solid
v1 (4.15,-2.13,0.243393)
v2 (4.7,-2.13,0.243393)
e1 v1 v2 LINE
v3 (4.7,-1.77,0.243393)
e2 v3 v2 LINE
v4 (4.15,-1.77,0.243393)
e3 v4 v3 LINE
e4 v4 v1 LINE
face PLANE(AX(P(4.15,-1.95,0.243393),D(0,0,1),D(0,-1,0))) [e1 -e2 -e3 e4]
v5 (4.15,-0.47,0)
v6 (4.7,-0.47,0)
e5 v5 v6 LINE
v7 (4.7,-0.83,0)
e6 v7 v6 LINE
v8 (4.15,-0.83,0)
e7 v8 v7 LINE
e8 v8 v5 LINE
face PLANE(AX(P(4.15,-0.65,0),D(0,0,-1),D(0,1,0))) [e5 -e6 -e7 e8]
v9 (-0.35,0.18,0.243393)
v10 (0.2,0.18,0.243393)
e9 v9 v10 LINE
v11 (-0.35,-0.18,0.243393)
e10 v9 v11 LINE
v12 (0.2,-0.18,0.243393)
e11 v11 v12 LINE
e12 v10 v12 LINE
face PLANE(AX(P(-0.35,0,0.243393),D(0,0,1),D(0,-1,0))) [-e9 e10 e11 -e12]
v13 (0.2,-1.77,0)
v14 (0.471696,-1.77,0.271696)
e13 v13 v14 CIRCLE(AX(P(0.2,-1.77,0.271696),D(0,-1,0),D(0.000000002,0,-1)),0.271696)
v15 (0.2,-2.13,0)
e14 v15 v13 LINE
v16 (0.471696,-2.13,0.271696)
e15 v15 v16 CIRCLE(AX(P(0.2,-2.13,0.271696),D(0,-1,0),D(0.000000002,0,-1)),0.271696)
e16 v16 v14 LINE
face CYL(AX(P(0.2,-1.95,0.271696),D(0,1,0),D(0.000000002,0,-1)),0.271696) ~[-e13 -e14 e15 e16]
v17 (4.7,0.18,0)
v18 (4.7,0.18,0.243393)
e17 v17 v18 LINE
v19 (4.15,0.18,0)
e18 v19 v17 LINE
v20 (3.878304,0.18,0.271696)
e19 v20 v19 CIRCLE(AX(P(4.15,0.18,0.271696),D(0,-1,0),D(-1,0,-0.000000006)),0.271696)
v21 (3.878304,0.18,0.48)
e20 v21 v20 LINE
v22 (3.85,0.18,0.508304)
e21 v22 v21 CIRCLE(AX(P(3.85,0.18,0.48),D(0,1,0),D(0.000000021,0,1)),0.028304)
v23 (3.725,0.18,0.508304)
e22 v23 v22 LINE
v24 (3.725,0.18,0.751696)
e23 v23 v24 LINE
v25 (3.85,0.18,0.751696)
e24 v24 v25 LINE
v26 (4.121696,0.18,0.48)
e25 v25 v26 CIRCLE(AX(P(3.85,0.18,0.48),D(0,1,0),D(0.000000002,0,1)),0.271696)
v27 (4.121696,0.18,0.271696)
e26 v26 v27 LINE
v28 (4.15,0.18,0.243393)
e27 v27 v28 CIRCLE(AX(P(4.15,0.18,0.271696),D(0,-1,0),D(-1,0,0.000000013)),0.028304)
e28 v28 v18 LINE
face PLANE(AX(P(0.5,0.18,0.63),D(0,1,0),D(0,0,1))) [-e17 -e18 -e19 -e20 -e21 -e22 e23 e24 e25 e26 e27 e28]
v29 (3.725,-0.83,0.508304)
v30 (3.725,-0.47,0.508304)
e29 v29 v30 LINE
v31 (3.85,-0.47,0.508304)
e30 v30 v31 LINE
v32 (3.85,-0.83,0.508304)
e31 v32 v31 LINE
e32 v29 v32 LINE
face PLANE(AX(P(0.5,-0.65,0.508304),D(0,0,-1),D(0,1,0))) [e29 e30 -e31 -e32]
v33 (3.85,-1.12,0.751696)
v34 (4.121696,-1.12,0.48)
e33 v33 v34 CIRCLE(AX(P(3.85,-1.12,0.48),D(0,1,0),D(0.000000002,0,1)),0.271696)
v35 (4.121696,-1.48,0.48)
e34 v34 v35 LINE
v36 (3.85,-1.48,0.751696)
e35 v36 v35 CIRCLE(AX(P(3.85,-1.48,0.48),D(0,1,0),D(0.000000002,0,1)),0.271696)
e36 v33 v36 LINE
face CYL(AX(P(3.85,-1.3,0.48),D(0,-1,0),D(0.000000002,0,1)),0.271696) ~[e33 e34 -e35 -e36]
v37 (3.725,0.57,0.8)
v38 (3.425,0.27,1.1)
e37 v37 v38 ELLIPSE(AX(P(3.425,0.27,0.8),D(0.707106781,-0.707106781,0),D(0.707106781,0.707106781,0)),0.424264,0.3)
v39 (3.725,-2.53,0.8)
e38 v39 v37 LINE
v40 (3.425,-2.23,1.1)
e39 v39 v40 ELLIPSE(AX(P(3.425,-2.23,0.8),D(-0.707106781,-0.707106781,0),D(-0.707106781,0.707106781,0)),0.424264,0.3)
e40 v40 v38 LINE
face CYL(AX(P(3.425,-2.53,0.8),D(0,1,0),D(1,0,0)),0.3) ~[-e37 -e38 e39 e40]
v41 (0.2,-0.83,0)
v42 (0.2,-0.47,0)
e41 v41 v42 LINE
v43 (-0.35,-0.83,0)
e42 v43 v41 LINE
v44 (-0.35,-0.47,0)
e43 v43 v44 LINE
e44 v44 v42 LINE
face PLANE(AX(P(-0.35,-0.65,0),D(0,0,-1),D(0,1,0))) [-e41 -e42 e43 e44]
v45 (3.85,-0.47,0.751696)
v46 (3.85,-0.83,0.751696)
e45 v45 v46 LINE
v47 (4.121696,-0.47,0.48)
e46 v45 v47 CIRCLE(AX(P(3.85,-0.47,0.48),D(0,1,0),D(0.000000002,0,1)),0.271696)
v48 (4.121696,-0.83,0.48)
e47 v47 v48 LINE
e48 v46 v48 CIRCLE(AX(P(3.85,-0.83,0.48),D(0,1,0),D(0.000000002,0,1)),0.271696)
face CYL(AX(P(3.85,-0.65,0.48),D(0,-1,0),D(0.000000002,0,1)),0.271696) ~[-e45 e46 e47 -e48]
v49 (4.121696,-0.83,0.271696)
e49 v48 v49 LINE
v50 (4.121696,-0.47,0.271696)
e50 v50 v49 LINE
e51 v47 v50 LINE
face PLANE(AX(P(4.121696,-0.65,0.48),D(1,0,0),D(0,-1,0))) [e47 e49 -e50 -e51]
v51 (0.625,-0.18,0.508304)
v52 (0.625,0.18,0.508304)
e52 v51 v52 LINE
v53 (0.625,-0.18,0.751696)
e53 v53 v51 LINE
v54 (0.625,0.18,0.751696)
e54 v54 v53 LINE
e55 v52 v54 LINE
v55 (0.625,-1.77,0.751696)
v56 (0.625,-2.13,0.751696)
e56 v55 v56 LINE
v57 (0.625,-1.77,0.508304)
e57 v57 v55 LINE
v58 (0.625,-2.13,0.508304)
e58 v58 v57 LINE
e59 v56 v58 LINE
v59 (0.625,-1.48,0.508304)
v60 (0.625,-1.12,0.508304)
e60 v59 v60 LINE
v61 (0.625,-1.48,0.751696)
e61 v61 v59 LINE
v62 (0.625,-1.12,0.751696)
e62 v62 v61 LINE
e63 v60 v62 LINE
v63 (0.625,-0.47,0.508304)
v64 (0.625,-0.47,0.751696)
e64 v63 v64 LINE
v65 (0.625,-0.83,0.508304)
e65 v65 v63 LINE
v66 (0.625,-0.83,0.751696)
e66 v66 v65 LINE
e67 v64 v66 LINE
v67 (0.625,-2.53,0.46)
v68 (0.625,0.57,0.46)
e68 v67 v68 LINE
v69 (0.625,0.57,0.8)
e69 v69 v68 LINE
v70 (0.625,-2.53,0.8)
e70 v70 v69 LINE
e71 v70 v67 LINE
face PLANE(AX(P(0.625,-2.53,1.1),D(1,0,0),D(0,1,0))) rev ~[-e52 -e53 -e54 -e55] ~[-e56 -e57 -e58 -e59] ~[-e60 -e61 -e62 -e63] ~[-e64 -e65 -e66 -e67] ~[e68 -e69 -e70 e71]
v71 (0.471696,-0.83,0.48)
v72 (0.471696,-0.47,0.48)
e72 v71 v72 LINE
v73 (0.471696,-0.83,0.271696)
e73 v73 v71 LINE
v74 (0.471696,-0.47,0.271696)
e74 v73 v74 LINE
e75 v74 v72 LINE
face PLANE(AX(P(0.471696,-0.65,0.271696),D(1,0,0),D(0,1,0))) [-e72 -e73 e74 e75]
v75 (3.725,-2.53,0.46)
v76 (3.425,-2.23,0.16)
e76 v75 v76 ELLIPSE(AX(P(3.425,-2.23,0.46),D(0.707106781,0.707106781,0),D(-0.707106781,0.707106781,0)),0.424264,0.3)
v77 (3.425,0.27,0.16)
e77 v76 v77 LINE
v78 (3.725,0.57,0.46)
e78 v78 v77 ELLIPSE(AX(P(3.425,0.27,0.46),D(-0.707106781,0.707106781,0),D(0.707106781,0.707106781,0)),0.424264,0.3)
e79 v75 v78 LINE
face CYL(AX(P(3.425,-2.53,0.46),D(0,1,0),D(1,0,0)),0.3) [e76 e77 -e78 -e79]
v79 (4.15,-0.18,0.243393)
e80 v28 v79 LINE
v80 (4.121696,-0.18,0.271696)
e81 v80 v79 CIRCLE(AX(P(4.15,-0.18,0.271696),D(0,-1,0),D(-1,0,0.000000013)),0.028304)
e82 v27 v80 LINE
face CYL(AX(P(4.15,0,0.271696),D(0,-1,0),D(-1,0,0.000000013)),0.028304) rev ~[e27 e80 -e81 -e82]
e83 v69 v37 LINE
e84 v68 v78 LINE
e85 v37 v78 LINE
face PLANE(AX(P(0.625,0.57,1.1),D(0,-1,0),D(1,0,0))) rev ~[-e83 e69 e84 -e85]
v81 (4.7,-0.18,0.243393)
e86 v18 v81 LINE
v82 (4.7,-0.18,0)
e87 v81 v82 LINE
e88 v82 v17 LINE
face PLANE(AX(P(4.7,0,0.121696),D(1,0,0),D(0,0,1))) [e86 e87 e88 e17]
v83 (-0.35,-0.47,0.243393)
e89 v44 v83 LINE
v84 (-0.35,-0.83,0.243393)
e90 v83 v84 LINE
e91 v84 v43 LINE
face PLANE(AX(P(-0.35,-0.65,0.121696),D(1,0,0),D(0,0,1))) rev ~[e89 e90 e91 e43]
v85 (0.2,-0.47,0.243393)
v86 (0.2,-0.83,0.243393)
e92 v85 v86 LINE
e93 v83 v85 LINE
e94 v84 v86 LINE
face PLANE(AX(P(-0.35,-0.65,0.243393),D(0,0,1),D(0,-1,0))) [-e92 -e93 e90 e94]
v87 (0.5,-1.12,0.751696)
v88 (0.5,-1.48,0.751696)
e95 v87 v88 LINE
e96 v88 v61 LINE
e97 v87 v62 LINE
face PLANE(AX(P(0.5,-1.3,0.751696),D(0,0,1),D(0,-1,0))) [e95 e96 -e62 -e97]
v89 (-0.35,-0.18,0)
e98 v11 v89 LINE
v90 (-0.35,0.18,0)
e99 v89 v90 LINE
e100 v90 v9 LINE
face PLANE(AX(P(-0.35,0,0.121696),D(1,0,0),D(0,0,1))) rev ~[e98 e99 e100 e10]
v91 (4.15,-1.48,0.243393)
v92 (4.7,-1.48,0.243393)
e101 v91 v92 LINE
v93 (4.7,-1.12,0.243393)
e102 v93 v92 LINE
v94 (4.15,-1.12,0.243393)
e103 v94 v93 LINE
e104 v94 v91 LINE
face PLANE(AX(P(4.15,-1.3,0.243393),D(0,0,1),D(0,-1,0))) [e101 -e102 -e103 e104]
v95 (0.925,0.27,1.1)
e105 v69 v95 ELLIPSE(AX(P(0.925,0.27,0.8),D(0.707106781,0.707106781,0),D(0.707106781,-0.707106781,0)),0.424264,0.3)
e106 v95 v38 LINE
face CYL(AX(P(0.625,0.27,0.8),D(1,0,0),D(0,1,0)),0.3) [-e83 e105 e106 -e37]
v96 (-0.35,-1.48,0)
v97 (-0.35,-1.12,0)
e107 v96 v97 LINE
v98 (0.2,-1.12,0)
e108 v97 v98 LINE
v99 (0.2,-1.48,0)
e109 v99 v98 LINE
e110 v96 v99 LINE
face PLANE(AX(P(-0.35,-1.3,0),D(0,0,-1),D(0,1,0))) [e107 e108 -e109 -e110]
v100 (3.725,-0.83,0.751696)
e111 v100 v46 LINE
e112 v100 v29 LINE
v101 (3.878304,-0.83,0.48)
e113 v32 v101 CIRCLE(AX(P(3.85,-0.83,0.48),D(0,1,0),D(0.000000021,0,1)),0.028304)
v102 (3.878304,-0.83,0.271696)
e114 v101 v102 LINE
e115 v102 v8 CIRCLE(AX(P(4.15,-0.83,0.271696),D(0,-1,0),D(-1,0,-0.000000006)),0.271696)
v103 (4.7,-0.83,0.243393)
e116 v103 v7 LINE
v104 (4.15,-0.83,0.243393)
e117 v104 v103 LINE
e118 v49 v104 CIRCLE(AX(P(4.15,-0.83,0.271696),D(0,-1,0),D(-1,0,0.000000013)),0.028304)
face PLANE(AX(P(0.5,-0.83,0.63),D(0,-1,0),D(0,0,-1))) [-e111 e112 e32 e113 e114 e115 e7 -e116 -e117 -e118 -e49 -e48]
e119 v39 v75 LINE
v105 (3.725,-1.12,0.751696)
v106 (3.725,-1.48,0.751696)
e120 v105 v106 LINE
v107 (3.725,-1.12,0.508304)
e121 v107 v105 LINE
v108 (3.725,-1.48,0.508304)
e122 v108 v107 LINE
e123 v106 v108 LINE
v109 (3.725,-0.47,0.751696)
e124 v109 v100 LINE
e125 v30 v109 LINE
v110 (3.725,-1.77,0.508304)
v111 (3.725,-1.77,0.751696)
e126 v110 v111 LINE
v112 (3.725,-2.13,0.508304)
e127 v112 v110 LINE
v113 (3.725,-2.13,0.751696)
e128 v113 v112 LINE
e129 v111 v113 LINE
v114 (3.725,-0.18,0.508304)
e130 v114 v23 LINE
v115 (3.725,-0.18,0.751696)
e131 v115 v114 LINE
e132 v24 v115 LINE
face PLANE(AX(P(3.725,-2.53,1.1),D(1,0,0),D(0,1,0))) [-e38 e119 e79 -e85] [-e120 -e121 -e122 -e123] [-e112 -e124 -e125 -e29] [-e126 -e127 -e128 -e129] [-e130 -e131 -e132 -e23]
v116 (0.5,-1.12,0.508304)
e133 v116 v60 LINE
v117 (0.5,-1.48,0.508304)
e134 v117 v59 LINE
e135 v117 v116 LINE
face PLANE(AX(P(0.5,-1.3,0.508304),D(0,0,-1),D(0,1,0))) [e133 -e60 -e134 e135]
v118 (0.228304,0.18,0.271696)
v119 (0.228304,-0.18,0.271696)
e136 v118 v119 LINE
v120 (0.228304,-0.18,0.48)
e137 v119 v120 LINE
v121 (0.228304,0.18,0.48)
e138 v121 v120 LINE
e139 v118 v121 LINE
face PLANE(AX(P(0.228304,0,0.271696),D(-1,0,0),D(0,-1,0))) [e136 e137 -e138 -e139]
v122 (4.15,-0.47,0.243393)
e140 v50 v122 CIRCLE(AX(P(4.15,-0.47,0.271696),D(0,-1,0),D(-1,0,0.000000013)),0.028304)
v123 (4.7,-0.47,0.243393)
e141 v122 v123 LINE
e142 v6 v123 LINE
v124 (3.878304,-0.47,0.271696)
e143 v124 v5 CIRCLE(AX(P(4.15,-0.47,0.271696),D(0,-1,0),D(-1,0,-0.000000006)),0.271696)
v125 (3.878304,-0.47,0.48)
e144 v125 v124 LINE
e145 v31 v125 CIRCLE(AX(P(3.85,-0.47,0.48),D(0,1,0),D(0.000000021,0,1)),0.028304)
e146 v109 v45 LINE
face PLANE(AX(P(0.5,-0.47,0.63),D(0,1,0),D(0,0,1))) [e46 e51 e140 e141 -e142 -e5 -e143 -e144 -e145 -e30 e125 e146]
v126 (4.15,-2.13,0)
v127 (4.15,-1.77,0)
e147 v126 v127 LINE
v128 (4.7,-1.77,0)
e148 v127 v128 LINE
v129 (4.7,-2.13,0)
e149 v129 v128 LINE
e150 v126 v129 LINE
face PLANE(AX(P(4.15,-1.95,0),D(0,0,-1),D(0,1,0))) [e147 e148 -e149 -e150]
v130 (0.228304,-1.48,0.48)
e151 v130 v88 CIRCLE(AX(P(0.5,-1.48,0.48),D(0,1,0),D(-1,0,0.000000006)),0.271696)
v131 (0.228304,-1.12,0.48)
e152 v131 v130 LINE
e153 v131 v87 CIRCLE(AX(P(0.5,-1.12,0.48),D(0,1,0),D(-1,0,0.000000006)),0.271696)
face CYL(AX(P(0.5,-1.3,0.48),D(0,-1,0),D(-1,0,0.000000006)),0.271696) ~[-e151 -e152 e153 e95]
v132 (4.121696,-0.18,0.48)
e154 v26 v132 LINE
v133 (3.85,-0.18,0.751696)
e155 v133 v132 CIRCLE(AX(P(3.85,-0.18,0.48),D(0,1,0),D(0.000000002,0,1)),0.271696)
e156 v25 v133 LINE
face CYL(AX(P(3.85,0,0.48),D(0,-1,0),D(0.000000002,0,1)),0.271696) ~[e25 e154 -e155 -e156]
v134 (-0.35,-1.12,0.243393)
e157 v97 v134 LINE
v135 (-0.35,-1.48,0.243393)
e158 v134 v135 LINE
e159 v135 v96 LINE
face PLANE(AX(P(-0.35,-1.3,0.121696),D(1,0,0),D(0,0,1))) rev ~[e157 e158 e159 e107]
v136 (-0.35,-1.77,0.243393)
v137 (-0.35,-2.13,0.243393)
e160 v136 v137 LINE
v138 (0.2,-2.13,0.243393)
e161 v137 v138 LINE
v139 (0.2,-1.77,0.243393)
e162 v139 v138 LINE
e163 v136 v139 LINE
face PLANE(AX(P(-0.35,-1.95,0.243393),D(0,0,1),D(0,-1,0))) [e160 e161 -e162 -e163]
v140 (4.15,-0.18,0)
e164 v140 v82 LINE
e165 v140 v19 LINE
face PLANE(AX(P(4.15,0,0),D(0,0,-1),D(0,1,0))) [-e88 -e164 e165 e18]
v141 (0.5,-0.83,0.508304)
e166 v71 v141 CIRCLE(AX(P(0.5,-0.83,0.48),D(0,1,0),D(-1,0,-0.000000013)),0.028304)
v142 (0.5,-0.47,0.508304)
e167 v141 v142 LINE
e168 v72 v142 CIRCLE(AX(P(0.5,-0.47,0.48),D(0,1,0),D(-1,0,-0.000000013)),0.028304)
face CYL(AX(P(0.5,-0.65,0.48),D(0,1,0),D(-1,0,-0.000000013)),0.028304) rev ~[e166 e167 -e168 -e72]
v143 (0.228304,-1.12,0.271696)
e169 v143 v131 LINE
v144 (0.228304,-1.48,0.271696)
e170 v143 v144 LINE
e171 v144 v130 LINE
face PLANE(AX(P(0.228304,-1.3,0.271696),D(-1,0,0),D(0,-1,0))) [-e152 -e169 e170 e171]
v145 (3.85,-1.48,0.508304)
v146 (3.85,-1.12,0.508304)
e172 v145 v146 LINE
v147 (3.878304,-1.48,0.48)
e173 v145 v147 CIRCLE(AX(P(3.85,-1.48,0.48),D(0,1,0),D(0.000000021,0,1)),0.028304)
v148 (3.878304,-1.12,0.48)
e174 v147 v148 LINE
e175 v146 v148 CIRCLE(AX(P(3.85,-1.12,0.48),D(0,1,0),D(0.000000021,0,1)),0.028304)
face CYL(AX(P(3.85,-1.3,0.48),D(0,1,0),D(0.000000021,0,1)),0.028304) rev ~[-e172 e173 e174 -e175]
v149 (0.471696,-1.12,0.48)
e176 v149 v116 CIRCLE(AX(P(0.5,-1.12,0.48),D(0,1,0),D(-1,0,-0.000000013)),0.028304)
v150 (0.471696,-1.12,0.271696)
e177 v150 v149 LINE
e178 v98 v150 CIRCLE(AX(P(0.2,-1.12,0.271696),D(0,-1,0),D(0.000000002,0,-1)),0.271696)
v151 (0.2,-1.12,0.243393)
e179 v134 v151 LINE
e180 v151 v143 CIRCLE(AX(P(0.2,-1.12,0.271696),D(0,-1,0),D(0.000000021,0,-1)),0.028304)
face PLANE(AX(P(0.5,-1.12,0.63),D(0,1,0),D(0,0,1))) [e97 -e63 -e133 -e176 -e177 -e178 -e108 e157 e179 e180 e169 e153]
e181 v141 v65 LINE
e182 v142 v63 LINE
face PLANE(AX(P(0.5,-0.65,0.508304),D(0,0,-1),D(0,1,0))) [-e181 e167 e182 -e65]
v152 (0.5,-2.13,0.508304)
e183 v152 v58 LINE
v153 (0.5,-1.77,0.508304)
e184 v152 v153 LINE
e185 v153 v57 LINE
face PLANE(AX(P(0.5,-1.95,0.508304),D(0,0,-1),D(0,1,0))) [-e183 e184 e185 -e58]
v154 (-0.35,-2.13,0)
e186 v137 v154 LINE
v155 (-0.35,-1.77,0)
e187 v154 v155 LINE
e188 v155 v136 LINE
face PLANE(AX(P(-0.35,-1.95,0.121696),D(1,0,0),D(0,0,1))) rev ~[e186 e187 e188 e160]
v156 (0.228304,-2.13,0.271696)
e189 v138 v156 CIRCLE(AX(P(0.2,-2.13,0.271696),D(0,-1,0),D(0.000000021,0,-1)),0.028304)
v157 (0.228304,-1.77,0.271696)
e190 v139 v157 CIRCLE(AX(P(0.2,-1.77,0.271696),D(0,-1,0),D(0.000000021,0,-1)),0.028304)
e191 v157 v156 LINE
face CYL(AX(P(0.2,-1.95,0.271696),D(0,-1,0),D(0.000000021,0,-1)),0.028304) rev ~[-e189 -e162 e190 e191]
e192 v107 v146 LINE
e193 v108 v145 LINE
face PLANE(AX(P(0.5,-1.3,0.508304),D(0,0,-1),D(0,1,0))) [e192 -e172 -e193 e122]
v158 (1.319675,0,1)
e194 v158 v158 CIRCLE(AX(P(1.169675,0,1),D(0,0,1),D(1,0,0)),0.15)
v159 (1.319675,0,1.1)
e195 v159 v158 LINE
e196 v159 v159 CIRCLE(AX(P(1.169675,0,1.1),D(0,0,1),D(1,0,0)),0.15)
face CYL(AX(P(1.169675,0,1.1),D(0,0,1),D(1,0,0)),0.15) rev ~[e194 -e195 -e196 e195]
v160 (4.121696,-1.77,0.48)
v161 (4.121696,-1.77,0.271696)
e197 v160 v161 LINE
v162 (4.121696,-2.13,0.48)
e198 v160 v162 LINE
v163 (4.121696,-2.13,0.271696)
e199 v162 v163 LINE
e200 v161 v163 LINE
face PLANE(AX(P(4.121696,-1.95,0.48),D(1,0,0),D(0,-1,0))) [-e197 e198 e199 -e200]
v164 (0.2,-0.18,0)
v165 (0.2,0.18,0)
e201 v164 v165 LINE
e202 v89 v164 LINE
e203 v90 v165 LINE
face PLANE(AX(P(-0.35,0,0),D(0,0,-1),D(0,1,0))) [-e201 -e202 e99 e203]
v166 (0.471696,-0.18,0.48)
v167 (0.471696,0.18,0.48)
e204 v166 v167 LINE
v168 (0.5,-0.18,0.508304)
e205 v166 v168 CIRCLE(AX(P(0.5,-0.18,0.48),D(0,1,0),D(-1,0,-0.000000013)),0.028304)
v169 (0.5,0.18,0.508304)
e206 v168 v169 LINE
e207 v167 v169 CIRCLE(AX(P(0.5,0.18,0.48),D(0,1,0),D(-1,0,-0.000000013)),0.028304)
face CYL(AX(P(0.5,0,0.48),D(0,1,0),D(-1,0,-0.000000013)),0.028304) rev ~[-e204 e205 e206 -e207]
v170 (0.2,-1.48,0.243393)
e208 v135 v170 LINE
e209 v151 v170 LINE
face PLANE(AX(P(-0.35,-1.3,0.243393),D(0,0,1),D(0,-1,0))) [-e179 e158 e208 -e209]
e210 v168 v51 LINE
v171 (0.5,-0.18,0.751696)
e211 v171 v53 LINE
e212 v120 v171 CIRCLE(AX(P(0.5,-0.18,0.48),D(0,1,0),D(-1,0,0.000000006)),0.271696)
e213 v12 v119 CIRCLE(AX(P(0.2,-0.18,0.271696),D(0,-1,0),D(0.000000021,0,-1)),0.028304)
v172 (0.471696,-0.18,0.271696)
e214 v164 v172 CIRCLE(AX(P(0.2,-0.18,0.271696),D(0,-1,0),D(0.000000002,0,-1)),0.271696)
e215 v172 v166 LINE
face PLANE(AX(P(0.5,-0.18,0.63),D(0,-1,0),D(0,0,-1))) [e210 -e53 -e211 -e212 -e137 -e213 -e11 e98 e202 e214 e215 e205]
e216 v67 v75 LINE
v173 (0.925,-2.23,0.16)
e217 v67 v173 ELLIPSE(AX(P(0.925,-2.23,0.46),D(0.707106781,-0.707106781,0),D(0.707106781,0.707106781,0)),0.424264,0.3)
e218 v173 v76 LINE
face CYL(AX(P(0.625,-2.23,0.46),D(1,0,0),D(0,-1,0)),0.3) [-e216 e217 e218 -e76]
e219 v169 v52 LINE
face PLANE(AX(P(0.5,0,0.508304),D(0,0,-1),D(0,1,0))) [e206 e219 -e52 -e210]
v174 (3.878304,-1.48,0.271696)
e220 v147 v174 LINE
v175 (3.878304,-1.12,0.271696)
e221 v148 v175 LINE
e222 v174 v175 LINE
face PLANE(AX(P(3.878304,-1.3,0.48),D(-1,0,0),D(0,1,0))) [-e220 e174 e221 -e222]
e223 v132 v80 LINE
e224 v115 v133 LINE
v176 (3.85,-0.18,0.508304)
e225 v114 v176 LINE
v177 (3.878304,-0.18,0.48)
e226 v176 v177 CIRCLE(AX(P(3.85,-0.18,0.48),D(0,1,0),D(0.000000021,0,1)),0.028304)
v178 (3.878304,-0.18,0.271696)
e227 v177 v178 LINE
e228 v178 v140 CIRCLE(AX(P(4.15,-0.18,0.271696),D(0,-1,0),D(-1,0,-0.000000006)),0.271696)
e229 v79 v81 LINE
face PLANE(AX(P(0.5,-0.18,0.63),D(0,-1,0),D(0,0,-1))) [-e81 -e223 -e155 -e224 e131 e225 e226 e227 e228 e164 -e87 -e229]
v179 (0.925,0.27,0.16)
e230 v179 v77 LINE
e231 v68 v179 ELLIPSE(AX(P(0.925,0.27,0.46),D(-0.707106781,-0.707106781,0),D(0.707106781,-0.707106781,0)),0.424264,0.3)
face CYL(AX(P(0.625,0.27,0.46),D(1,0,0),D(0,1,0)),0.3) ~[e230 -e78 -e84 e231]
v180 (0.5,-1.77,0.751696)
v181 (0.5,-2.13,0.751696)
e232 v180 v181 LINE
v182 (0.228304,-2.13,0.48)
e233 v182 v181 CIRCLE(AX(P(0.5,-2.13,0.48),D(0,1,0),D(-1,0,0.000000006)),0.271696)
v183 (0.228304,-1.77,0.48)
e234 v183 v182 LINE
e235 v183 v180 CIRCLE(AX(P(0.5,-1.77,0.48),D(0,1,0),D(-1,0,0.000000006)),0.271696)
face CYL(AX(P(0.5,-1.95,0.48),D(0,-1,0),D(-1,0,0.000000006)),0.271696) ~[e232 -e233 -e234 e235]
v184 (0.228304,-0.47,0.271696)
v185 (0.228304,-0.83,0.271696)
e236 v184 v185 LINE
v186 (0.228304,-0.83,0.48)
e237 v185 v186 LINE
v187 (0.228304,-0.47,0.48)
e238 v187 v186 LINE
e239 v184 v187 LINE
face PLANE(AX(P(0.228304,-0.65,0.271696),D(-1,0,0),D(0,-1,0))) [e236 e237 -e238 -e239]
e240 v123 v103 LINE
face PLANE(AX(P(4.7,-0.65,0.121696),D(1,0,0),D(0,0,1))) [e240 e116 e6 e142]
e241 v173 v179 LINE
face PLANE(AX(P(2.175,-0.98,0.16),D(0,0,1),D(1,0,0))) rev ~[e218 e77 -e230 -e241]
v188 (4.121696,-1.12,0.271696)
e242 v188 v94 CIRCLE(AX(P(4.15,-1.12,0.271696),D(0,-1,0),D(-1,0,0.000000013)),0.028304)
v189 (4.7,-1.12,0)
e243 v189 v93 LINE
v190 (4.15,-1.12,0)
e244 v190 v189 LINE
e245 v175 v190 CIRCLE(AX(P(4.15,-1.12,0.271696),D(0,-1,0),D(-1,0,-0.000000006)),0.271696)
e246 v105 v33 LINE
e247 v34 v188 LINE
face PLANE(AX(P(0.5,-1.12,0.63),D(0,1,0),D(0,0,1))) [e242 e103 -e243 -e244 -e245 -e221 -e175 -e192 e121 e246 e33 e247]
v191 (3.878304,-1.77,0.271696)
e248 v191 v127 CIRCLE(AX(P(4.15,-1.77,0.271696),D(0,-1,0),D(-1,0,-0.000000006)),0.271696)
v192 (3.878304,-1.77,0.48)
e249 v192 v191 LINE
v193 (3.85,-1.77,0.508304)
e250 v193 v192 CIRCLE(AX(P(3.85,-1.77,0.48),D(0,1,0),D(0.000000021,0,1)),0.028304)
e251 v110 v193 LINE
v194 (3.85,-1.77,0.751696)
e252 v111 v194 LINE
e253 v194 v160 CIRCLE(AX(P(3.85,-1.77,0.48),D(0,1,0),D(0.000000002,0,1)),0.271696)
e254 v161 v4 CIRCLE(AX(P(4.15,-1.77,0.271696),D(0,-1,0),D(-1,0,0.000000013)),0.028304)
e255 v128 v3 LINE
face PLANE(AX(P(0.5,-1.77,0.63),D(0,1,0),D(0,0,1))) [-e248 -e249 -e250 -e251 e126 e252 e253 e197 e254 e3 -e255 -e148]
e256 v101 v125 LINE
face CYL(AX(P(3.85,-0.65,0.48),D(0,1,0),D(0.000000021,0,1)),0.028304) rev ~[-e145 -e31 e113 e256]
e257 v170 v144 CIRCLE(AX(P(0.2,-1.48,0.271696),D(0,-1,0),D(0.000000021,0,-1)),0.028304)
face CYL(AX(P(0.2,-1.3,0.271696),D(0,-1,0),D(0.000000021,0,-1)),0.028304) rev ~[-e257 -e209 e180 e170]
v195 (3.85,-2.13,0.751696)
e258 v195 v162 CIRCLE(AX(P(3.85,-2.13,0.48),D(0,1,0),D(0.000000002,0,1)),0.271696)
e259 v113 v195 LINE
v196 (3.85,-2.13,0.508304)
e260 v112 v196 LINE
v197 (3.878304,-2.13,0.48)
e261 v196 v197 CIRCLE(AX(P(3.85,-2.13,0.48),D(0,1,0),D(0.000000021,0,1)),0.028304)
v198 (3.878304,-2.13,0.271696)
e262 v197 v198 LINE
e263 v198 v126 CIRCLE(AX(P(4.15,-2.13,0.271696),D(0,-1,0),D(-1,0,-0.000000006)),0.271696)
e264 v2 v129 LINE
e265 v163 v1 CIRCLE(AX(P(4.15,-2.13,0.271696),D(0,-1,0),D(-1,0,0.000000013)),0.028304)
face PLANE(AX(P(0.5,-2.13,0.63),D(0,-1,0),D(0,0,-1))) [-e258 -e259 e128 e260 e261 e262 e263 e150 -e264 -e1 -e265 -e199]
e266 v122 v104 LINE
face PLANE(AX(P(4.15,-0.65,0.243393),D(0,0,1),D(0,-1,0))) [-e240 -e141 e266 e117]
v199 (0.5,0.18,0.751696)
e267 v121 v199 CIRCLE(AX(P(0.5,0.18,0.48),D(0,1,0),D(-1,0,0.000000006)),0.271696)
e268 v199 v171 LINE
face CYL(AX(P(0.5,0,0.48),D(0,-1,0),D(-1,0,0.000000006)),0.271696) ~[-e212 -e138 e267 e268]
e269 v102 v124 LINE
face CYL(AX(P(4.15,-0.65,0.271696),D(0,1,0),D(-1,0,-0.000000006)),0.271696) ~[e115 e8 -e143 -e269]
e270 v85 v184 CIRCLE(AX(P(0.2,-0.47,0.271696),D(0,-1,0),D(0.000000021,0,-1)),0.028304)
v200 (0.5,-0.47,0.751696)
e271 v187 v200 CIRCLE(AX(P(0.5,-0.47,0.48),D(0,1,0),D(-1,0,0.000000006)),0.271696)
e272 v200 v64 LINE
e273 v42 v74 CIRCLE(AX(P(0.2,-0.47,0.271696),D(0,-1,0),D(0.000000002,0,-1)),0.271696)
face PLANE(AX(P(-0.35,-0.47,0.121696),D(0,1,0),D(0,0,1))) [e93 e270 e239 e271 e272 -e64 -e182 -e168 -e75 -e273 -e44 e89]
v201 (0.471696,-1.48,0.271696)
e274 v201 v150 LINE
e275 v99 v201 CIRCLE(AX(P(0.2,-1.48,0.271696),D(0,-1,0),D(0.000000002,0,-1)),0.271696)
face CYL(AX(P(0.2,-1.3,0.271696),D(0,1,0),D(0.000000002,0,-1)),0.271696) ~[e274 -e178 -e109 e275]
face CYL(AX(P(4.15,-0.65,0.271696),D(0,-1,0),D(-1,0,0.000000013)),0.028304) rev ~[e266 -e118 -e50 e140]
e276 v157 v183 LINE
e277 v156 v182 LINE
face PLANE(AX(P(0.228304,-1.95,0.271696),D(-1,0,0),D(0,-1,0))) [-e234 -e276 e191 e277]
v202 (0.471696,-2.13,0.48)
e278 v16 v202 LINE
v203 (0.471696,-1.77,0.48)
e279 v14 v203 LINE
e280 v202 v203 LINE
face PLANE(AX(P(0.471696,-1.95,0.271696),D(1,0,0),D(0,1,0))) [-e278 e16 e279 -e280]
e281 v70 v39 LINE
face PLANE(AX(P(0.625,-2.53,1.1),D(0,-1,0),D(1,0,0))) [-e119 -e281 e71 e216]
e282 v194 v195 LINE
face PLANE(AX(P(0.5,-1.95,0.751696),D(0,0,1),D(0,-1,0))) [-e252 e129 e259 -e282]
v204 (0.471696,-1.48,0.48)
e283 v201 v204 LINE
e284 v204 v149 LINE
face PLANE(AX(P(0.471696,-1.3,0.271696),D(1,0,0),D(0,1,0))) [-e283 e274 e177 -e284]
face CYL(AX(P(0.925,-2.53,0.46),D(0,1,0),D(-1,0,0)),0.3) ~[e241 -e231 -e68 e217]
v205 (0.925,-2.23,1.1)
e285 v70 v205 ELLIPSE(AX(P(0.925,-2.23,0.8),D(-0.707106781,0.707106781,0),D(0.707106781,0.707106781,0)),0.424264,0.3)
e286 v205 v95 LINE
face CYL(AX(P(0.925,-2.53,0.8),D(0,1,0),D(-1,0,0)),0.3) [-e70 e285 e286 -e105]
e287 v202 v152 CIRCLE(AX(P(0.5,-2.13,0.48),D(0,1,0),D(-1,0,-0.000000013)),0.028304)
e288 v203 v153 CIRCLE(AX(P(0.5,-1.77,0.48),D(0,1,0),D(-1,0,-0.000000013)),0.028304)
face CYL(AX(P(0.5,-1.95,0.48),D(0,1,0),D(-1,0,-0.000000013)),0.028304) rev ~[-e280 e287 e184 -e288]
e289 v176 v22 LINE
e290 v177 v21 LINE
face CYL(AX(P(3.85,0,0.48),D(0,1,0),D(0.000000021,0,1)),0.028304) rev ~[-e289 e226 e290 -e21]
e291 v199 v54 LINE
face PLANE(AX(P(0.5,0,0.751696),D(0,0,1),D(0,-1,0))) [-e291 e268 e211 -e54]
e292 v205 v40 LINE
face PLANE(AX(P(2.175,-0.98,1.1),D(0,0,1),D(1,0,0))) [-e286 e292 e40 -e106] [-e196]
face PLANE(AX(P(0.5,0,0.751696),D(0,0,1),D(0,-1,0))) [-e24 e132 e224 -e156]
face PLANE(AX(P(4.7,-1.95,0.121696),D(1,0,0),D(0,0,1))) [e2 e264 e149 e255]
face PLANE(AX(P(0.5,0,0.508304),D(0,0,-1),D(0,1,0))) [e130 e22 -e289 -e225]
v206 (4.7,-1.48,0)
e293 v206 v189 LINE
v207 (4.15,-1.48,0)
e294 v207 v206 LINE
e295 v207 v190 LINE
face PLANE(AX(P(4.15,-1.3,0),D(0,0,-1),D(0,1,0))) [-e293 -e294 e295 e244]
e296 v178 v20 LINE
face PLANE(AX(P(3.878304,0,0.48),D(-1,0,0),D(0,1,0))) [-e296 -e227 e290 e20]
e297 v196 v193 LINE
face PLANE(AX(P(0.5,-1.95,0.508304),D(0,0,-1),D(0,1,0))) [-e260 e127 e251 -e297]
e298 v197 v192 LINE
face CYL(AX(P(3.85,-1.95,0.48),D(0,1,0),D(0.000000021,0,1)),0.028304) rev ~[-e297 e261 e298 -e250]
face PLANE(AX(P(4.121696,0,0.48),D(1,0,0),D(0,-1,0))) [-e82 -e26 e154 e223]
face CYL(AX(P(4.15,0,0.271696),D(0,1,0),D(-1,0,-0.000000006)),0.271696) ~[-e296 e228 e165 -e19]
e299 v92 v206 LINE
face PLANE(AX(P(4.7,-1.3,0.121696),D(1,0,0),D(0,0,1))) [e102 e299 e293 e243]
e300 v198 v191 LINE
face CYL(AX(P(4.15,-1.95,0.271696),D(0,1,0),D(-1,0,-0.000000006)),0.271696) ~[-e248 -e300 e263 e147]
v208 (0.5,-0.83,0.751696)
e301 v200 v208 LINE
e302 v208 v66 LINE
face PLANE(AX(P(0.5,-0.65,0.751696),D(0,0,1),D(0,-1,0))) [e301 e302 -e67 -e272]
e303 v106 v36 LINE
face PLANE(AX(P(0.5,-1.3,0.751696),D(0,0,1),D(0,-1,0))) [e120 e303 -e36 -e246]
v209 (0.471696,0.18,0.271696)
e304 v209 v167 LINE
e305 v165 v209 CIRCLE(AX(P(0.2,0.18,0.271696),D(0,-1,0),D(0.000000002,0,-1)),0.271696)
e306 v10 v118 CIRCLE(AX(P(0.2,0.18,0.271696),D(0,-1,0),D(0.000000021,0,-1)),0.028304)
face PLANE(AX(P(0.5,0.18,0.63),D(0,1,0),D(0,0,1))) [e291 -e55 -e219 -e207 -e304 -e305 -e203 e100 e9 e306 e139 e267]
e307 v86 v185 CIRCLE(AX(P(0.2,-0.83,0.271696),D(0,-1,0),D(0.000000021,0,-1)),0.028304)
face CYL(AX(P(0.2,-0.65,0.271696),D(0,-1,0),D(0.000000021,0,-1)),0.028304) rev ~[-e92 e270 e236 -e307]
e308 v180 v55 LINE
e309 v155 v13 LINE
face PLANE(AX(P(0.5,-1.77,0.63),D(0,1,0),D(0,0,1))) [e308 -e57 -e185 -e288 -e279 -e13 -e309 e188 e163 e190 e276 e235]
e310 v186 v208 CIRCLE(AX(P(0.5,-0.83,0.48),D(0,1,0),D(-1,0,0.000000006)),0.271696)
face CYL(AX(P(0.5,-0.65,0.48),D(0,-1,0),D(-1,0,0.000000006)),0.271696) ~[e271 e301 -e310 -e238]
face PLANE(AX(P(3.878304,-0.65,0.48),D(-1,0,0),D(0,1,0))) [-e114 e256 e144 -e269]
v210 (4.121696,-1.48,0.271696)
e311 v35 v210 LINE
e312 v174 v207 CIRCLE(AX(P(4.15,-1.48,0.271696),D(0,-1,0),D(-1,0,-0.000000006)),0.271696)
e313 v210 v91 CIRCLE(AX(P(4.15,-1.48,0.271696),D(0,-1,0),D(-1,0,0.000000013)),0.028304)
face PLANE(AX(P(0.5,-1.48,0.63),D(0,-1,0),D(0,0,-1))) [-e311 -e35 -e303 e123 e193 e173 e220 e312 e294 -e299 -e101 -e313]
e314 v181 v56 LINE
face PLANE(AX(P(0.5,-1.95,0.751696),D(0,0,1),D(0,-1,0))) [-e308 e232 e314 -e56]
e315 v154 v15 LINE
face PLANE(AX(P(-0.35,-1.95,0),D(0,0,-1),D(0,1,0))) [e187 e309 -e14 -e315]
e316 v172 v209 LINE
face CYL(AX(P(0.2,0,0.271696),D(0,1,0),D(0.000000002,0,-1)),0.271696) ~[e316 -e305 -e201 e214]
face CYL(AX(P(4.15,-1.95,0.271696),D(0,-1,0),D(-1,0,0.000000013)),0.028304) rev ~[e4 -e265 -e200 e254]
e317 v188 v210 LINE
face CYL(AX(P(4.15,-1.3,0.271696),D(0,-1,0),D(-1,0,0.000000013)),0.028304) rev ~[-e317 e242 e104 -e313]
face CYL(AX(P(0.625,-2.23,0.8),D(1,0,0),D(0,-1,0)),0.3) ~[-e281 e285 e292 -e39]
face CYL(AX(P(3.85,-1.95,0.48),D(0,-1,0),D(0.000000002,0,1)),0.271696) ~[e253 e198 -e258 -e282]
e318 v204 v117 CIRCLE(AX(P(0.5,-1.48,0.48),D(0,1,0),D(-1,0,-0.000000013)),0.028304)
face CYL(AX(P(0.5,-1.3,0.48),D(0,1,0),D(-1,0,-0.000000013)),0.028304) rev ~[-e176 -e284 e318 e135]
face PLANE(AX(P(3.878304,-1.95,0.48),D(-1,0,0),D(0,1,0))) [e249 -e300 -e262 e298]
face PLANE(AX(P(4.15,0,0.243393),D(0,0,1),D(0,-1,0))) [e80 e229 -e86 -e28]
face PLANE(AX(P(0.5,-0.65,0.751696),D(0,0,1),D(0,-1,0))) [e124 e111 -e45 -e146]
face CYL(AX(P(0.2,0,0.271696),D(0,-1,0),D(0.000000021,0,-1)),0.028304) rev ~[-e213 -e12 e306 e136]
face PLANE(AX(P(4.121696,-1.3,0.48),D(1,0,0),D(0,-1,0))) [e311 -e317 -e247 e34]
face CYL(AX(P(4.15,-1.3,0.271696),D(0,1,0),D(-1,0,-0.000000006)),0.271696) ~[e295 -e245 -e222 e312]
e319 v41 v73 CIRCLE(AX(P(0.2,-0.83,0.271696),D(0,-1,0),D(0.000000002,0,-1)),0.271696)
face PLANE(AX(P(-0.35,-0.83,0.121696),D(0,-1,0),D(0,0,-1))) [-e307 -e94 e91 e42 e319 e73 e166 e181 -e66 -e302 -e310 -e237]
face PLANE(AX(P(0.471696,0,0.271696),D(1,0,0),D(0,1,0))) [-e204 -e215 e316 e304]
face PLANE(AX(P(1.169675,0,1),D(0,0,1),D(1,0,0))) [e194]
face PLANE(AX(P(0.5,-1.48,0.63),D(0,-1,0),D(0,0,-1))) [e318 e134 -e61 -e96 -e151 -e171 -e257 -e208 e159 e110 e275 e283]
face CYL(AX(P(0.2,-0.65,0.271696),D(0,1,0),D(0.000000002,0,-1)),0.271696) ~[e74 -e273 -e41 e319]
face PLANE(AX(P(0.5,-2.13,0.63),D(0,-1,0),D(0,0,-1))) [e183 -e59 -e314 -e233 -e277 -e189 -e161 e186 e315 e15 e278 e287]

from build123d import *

# Parameters (mm, degrees)
SKETCH_3_W          = 3.1
SKETCH_3_H          = 3.1
EXTRUDE_1_DEPTH     = 0.94
FILLET_2_R          = 0.3
SKETCH_4_R          = 0.15
CUT_EXTRUDE_1_DEPTH = 0.1
SKETCH_5_W          = 0.243392782
SKETCH_5_H          = 0.36


with BuildPart() as part:
    # Эскиз3 → Вытянуть1 (new body)
    with BuildSketch(Plane.XY.offset(1.1)):
        with Locations((2.175, -0.98)):
            Rectangle(SKETCH_3_W, SKETCH_3_H)
    extrude(amount=-EXTRUDE_1_DEPTH)

    # Скругление2
    fillet_2_edges = [part.edges().sort_by_distance(p)[0] for p in [
        (2.175, 0.57, 1.1),
        (2.175, 0.57, 0.16),
        (3.725, -0.98, 1.1),
        (3.725, -0.98, 0.16),
        (2.175, -2.53, 1.1),
        (2.175, -2.53, 0.16),
        (0.625, -0.98, 1.1),
        (0.625, -0.98, 0.16),
    ]]
    fillet(fillet_2_edges, radius=FILLET_2_R)

    # Эскиз4 → Вырез-Вытянуть1 (cut)
    with BuildSketch(Plane.XY.offset(1.1)):
        with Locations((1.169675261, 0)):
            Circle(SKETCH_4_R)
    extrude(amount=-CUT_EXTRUDE_1_DEPTH, mode=Mode.SUBTRACT)

    # По траектории4: sweep along a path in Эскиз6
    with BuildLine(Plane(origin=(0, 0, 0), x_dir=(1, 0, 0), z_dir=(0, 1, 0))) as sweep_4_path:
        Line((-0.35, -0.121696391), (0.2, -0.121696391))
        ThreePointArc((0.2, -0.121696391), (0.306066017, -0.165630374), (0.35, -0.271696391))
        Line((0.35, -0.271696391), (0.35, -0.48))
        ThreePointArc((0.35, -0.48), (0.393933983, -0.586066017), (0.5, -0.63))
        Line((0.5, -0.63), (0.625, -0.63))
        Line((0.625, -0.63), (3.725, -0.63))
        Line((3.725, -0.63), (3.85, -0.63))
        ThreePointArc((3.85, -0.63), (3.956066017, -0.586066017), (4, -0.48))
        Line((4, -0.48), (4, -0.271696391))
        ThreePointArc((4, -0.271696391), (4.043933983, -0.165630374), (4.15, -0.121696391))
        Line((4.15, -0.121696391), (4.7, -0.121696391))
    # Эскиз5 → По траектории4 (sweep)
    with BuildSketch(Plane(origin=(-0.35, 0, 0), x_dir=(0, 0, -1), z_dir=(1, 0, 0))):
        with Locations((-0.121696391, -0.65)):
            Rectangle(SKETCH_5_W, SKETCH_5_H)
        with Locations((-0.121696391, 0)):
            Rectangle(SKETCH_5_W, SKETCH_5_H)
        with Locations((-0.121696391, -1.3)):
            Rectangle(SKETCH_5_W, SKETCH_5_H)
        with Locations((-0.121696391, -1.95)):
            Rectangle(SKETCH_5_W, SKETCH_5_H)
    sweep(path=sweep_4_path.line)


solid = part.part
